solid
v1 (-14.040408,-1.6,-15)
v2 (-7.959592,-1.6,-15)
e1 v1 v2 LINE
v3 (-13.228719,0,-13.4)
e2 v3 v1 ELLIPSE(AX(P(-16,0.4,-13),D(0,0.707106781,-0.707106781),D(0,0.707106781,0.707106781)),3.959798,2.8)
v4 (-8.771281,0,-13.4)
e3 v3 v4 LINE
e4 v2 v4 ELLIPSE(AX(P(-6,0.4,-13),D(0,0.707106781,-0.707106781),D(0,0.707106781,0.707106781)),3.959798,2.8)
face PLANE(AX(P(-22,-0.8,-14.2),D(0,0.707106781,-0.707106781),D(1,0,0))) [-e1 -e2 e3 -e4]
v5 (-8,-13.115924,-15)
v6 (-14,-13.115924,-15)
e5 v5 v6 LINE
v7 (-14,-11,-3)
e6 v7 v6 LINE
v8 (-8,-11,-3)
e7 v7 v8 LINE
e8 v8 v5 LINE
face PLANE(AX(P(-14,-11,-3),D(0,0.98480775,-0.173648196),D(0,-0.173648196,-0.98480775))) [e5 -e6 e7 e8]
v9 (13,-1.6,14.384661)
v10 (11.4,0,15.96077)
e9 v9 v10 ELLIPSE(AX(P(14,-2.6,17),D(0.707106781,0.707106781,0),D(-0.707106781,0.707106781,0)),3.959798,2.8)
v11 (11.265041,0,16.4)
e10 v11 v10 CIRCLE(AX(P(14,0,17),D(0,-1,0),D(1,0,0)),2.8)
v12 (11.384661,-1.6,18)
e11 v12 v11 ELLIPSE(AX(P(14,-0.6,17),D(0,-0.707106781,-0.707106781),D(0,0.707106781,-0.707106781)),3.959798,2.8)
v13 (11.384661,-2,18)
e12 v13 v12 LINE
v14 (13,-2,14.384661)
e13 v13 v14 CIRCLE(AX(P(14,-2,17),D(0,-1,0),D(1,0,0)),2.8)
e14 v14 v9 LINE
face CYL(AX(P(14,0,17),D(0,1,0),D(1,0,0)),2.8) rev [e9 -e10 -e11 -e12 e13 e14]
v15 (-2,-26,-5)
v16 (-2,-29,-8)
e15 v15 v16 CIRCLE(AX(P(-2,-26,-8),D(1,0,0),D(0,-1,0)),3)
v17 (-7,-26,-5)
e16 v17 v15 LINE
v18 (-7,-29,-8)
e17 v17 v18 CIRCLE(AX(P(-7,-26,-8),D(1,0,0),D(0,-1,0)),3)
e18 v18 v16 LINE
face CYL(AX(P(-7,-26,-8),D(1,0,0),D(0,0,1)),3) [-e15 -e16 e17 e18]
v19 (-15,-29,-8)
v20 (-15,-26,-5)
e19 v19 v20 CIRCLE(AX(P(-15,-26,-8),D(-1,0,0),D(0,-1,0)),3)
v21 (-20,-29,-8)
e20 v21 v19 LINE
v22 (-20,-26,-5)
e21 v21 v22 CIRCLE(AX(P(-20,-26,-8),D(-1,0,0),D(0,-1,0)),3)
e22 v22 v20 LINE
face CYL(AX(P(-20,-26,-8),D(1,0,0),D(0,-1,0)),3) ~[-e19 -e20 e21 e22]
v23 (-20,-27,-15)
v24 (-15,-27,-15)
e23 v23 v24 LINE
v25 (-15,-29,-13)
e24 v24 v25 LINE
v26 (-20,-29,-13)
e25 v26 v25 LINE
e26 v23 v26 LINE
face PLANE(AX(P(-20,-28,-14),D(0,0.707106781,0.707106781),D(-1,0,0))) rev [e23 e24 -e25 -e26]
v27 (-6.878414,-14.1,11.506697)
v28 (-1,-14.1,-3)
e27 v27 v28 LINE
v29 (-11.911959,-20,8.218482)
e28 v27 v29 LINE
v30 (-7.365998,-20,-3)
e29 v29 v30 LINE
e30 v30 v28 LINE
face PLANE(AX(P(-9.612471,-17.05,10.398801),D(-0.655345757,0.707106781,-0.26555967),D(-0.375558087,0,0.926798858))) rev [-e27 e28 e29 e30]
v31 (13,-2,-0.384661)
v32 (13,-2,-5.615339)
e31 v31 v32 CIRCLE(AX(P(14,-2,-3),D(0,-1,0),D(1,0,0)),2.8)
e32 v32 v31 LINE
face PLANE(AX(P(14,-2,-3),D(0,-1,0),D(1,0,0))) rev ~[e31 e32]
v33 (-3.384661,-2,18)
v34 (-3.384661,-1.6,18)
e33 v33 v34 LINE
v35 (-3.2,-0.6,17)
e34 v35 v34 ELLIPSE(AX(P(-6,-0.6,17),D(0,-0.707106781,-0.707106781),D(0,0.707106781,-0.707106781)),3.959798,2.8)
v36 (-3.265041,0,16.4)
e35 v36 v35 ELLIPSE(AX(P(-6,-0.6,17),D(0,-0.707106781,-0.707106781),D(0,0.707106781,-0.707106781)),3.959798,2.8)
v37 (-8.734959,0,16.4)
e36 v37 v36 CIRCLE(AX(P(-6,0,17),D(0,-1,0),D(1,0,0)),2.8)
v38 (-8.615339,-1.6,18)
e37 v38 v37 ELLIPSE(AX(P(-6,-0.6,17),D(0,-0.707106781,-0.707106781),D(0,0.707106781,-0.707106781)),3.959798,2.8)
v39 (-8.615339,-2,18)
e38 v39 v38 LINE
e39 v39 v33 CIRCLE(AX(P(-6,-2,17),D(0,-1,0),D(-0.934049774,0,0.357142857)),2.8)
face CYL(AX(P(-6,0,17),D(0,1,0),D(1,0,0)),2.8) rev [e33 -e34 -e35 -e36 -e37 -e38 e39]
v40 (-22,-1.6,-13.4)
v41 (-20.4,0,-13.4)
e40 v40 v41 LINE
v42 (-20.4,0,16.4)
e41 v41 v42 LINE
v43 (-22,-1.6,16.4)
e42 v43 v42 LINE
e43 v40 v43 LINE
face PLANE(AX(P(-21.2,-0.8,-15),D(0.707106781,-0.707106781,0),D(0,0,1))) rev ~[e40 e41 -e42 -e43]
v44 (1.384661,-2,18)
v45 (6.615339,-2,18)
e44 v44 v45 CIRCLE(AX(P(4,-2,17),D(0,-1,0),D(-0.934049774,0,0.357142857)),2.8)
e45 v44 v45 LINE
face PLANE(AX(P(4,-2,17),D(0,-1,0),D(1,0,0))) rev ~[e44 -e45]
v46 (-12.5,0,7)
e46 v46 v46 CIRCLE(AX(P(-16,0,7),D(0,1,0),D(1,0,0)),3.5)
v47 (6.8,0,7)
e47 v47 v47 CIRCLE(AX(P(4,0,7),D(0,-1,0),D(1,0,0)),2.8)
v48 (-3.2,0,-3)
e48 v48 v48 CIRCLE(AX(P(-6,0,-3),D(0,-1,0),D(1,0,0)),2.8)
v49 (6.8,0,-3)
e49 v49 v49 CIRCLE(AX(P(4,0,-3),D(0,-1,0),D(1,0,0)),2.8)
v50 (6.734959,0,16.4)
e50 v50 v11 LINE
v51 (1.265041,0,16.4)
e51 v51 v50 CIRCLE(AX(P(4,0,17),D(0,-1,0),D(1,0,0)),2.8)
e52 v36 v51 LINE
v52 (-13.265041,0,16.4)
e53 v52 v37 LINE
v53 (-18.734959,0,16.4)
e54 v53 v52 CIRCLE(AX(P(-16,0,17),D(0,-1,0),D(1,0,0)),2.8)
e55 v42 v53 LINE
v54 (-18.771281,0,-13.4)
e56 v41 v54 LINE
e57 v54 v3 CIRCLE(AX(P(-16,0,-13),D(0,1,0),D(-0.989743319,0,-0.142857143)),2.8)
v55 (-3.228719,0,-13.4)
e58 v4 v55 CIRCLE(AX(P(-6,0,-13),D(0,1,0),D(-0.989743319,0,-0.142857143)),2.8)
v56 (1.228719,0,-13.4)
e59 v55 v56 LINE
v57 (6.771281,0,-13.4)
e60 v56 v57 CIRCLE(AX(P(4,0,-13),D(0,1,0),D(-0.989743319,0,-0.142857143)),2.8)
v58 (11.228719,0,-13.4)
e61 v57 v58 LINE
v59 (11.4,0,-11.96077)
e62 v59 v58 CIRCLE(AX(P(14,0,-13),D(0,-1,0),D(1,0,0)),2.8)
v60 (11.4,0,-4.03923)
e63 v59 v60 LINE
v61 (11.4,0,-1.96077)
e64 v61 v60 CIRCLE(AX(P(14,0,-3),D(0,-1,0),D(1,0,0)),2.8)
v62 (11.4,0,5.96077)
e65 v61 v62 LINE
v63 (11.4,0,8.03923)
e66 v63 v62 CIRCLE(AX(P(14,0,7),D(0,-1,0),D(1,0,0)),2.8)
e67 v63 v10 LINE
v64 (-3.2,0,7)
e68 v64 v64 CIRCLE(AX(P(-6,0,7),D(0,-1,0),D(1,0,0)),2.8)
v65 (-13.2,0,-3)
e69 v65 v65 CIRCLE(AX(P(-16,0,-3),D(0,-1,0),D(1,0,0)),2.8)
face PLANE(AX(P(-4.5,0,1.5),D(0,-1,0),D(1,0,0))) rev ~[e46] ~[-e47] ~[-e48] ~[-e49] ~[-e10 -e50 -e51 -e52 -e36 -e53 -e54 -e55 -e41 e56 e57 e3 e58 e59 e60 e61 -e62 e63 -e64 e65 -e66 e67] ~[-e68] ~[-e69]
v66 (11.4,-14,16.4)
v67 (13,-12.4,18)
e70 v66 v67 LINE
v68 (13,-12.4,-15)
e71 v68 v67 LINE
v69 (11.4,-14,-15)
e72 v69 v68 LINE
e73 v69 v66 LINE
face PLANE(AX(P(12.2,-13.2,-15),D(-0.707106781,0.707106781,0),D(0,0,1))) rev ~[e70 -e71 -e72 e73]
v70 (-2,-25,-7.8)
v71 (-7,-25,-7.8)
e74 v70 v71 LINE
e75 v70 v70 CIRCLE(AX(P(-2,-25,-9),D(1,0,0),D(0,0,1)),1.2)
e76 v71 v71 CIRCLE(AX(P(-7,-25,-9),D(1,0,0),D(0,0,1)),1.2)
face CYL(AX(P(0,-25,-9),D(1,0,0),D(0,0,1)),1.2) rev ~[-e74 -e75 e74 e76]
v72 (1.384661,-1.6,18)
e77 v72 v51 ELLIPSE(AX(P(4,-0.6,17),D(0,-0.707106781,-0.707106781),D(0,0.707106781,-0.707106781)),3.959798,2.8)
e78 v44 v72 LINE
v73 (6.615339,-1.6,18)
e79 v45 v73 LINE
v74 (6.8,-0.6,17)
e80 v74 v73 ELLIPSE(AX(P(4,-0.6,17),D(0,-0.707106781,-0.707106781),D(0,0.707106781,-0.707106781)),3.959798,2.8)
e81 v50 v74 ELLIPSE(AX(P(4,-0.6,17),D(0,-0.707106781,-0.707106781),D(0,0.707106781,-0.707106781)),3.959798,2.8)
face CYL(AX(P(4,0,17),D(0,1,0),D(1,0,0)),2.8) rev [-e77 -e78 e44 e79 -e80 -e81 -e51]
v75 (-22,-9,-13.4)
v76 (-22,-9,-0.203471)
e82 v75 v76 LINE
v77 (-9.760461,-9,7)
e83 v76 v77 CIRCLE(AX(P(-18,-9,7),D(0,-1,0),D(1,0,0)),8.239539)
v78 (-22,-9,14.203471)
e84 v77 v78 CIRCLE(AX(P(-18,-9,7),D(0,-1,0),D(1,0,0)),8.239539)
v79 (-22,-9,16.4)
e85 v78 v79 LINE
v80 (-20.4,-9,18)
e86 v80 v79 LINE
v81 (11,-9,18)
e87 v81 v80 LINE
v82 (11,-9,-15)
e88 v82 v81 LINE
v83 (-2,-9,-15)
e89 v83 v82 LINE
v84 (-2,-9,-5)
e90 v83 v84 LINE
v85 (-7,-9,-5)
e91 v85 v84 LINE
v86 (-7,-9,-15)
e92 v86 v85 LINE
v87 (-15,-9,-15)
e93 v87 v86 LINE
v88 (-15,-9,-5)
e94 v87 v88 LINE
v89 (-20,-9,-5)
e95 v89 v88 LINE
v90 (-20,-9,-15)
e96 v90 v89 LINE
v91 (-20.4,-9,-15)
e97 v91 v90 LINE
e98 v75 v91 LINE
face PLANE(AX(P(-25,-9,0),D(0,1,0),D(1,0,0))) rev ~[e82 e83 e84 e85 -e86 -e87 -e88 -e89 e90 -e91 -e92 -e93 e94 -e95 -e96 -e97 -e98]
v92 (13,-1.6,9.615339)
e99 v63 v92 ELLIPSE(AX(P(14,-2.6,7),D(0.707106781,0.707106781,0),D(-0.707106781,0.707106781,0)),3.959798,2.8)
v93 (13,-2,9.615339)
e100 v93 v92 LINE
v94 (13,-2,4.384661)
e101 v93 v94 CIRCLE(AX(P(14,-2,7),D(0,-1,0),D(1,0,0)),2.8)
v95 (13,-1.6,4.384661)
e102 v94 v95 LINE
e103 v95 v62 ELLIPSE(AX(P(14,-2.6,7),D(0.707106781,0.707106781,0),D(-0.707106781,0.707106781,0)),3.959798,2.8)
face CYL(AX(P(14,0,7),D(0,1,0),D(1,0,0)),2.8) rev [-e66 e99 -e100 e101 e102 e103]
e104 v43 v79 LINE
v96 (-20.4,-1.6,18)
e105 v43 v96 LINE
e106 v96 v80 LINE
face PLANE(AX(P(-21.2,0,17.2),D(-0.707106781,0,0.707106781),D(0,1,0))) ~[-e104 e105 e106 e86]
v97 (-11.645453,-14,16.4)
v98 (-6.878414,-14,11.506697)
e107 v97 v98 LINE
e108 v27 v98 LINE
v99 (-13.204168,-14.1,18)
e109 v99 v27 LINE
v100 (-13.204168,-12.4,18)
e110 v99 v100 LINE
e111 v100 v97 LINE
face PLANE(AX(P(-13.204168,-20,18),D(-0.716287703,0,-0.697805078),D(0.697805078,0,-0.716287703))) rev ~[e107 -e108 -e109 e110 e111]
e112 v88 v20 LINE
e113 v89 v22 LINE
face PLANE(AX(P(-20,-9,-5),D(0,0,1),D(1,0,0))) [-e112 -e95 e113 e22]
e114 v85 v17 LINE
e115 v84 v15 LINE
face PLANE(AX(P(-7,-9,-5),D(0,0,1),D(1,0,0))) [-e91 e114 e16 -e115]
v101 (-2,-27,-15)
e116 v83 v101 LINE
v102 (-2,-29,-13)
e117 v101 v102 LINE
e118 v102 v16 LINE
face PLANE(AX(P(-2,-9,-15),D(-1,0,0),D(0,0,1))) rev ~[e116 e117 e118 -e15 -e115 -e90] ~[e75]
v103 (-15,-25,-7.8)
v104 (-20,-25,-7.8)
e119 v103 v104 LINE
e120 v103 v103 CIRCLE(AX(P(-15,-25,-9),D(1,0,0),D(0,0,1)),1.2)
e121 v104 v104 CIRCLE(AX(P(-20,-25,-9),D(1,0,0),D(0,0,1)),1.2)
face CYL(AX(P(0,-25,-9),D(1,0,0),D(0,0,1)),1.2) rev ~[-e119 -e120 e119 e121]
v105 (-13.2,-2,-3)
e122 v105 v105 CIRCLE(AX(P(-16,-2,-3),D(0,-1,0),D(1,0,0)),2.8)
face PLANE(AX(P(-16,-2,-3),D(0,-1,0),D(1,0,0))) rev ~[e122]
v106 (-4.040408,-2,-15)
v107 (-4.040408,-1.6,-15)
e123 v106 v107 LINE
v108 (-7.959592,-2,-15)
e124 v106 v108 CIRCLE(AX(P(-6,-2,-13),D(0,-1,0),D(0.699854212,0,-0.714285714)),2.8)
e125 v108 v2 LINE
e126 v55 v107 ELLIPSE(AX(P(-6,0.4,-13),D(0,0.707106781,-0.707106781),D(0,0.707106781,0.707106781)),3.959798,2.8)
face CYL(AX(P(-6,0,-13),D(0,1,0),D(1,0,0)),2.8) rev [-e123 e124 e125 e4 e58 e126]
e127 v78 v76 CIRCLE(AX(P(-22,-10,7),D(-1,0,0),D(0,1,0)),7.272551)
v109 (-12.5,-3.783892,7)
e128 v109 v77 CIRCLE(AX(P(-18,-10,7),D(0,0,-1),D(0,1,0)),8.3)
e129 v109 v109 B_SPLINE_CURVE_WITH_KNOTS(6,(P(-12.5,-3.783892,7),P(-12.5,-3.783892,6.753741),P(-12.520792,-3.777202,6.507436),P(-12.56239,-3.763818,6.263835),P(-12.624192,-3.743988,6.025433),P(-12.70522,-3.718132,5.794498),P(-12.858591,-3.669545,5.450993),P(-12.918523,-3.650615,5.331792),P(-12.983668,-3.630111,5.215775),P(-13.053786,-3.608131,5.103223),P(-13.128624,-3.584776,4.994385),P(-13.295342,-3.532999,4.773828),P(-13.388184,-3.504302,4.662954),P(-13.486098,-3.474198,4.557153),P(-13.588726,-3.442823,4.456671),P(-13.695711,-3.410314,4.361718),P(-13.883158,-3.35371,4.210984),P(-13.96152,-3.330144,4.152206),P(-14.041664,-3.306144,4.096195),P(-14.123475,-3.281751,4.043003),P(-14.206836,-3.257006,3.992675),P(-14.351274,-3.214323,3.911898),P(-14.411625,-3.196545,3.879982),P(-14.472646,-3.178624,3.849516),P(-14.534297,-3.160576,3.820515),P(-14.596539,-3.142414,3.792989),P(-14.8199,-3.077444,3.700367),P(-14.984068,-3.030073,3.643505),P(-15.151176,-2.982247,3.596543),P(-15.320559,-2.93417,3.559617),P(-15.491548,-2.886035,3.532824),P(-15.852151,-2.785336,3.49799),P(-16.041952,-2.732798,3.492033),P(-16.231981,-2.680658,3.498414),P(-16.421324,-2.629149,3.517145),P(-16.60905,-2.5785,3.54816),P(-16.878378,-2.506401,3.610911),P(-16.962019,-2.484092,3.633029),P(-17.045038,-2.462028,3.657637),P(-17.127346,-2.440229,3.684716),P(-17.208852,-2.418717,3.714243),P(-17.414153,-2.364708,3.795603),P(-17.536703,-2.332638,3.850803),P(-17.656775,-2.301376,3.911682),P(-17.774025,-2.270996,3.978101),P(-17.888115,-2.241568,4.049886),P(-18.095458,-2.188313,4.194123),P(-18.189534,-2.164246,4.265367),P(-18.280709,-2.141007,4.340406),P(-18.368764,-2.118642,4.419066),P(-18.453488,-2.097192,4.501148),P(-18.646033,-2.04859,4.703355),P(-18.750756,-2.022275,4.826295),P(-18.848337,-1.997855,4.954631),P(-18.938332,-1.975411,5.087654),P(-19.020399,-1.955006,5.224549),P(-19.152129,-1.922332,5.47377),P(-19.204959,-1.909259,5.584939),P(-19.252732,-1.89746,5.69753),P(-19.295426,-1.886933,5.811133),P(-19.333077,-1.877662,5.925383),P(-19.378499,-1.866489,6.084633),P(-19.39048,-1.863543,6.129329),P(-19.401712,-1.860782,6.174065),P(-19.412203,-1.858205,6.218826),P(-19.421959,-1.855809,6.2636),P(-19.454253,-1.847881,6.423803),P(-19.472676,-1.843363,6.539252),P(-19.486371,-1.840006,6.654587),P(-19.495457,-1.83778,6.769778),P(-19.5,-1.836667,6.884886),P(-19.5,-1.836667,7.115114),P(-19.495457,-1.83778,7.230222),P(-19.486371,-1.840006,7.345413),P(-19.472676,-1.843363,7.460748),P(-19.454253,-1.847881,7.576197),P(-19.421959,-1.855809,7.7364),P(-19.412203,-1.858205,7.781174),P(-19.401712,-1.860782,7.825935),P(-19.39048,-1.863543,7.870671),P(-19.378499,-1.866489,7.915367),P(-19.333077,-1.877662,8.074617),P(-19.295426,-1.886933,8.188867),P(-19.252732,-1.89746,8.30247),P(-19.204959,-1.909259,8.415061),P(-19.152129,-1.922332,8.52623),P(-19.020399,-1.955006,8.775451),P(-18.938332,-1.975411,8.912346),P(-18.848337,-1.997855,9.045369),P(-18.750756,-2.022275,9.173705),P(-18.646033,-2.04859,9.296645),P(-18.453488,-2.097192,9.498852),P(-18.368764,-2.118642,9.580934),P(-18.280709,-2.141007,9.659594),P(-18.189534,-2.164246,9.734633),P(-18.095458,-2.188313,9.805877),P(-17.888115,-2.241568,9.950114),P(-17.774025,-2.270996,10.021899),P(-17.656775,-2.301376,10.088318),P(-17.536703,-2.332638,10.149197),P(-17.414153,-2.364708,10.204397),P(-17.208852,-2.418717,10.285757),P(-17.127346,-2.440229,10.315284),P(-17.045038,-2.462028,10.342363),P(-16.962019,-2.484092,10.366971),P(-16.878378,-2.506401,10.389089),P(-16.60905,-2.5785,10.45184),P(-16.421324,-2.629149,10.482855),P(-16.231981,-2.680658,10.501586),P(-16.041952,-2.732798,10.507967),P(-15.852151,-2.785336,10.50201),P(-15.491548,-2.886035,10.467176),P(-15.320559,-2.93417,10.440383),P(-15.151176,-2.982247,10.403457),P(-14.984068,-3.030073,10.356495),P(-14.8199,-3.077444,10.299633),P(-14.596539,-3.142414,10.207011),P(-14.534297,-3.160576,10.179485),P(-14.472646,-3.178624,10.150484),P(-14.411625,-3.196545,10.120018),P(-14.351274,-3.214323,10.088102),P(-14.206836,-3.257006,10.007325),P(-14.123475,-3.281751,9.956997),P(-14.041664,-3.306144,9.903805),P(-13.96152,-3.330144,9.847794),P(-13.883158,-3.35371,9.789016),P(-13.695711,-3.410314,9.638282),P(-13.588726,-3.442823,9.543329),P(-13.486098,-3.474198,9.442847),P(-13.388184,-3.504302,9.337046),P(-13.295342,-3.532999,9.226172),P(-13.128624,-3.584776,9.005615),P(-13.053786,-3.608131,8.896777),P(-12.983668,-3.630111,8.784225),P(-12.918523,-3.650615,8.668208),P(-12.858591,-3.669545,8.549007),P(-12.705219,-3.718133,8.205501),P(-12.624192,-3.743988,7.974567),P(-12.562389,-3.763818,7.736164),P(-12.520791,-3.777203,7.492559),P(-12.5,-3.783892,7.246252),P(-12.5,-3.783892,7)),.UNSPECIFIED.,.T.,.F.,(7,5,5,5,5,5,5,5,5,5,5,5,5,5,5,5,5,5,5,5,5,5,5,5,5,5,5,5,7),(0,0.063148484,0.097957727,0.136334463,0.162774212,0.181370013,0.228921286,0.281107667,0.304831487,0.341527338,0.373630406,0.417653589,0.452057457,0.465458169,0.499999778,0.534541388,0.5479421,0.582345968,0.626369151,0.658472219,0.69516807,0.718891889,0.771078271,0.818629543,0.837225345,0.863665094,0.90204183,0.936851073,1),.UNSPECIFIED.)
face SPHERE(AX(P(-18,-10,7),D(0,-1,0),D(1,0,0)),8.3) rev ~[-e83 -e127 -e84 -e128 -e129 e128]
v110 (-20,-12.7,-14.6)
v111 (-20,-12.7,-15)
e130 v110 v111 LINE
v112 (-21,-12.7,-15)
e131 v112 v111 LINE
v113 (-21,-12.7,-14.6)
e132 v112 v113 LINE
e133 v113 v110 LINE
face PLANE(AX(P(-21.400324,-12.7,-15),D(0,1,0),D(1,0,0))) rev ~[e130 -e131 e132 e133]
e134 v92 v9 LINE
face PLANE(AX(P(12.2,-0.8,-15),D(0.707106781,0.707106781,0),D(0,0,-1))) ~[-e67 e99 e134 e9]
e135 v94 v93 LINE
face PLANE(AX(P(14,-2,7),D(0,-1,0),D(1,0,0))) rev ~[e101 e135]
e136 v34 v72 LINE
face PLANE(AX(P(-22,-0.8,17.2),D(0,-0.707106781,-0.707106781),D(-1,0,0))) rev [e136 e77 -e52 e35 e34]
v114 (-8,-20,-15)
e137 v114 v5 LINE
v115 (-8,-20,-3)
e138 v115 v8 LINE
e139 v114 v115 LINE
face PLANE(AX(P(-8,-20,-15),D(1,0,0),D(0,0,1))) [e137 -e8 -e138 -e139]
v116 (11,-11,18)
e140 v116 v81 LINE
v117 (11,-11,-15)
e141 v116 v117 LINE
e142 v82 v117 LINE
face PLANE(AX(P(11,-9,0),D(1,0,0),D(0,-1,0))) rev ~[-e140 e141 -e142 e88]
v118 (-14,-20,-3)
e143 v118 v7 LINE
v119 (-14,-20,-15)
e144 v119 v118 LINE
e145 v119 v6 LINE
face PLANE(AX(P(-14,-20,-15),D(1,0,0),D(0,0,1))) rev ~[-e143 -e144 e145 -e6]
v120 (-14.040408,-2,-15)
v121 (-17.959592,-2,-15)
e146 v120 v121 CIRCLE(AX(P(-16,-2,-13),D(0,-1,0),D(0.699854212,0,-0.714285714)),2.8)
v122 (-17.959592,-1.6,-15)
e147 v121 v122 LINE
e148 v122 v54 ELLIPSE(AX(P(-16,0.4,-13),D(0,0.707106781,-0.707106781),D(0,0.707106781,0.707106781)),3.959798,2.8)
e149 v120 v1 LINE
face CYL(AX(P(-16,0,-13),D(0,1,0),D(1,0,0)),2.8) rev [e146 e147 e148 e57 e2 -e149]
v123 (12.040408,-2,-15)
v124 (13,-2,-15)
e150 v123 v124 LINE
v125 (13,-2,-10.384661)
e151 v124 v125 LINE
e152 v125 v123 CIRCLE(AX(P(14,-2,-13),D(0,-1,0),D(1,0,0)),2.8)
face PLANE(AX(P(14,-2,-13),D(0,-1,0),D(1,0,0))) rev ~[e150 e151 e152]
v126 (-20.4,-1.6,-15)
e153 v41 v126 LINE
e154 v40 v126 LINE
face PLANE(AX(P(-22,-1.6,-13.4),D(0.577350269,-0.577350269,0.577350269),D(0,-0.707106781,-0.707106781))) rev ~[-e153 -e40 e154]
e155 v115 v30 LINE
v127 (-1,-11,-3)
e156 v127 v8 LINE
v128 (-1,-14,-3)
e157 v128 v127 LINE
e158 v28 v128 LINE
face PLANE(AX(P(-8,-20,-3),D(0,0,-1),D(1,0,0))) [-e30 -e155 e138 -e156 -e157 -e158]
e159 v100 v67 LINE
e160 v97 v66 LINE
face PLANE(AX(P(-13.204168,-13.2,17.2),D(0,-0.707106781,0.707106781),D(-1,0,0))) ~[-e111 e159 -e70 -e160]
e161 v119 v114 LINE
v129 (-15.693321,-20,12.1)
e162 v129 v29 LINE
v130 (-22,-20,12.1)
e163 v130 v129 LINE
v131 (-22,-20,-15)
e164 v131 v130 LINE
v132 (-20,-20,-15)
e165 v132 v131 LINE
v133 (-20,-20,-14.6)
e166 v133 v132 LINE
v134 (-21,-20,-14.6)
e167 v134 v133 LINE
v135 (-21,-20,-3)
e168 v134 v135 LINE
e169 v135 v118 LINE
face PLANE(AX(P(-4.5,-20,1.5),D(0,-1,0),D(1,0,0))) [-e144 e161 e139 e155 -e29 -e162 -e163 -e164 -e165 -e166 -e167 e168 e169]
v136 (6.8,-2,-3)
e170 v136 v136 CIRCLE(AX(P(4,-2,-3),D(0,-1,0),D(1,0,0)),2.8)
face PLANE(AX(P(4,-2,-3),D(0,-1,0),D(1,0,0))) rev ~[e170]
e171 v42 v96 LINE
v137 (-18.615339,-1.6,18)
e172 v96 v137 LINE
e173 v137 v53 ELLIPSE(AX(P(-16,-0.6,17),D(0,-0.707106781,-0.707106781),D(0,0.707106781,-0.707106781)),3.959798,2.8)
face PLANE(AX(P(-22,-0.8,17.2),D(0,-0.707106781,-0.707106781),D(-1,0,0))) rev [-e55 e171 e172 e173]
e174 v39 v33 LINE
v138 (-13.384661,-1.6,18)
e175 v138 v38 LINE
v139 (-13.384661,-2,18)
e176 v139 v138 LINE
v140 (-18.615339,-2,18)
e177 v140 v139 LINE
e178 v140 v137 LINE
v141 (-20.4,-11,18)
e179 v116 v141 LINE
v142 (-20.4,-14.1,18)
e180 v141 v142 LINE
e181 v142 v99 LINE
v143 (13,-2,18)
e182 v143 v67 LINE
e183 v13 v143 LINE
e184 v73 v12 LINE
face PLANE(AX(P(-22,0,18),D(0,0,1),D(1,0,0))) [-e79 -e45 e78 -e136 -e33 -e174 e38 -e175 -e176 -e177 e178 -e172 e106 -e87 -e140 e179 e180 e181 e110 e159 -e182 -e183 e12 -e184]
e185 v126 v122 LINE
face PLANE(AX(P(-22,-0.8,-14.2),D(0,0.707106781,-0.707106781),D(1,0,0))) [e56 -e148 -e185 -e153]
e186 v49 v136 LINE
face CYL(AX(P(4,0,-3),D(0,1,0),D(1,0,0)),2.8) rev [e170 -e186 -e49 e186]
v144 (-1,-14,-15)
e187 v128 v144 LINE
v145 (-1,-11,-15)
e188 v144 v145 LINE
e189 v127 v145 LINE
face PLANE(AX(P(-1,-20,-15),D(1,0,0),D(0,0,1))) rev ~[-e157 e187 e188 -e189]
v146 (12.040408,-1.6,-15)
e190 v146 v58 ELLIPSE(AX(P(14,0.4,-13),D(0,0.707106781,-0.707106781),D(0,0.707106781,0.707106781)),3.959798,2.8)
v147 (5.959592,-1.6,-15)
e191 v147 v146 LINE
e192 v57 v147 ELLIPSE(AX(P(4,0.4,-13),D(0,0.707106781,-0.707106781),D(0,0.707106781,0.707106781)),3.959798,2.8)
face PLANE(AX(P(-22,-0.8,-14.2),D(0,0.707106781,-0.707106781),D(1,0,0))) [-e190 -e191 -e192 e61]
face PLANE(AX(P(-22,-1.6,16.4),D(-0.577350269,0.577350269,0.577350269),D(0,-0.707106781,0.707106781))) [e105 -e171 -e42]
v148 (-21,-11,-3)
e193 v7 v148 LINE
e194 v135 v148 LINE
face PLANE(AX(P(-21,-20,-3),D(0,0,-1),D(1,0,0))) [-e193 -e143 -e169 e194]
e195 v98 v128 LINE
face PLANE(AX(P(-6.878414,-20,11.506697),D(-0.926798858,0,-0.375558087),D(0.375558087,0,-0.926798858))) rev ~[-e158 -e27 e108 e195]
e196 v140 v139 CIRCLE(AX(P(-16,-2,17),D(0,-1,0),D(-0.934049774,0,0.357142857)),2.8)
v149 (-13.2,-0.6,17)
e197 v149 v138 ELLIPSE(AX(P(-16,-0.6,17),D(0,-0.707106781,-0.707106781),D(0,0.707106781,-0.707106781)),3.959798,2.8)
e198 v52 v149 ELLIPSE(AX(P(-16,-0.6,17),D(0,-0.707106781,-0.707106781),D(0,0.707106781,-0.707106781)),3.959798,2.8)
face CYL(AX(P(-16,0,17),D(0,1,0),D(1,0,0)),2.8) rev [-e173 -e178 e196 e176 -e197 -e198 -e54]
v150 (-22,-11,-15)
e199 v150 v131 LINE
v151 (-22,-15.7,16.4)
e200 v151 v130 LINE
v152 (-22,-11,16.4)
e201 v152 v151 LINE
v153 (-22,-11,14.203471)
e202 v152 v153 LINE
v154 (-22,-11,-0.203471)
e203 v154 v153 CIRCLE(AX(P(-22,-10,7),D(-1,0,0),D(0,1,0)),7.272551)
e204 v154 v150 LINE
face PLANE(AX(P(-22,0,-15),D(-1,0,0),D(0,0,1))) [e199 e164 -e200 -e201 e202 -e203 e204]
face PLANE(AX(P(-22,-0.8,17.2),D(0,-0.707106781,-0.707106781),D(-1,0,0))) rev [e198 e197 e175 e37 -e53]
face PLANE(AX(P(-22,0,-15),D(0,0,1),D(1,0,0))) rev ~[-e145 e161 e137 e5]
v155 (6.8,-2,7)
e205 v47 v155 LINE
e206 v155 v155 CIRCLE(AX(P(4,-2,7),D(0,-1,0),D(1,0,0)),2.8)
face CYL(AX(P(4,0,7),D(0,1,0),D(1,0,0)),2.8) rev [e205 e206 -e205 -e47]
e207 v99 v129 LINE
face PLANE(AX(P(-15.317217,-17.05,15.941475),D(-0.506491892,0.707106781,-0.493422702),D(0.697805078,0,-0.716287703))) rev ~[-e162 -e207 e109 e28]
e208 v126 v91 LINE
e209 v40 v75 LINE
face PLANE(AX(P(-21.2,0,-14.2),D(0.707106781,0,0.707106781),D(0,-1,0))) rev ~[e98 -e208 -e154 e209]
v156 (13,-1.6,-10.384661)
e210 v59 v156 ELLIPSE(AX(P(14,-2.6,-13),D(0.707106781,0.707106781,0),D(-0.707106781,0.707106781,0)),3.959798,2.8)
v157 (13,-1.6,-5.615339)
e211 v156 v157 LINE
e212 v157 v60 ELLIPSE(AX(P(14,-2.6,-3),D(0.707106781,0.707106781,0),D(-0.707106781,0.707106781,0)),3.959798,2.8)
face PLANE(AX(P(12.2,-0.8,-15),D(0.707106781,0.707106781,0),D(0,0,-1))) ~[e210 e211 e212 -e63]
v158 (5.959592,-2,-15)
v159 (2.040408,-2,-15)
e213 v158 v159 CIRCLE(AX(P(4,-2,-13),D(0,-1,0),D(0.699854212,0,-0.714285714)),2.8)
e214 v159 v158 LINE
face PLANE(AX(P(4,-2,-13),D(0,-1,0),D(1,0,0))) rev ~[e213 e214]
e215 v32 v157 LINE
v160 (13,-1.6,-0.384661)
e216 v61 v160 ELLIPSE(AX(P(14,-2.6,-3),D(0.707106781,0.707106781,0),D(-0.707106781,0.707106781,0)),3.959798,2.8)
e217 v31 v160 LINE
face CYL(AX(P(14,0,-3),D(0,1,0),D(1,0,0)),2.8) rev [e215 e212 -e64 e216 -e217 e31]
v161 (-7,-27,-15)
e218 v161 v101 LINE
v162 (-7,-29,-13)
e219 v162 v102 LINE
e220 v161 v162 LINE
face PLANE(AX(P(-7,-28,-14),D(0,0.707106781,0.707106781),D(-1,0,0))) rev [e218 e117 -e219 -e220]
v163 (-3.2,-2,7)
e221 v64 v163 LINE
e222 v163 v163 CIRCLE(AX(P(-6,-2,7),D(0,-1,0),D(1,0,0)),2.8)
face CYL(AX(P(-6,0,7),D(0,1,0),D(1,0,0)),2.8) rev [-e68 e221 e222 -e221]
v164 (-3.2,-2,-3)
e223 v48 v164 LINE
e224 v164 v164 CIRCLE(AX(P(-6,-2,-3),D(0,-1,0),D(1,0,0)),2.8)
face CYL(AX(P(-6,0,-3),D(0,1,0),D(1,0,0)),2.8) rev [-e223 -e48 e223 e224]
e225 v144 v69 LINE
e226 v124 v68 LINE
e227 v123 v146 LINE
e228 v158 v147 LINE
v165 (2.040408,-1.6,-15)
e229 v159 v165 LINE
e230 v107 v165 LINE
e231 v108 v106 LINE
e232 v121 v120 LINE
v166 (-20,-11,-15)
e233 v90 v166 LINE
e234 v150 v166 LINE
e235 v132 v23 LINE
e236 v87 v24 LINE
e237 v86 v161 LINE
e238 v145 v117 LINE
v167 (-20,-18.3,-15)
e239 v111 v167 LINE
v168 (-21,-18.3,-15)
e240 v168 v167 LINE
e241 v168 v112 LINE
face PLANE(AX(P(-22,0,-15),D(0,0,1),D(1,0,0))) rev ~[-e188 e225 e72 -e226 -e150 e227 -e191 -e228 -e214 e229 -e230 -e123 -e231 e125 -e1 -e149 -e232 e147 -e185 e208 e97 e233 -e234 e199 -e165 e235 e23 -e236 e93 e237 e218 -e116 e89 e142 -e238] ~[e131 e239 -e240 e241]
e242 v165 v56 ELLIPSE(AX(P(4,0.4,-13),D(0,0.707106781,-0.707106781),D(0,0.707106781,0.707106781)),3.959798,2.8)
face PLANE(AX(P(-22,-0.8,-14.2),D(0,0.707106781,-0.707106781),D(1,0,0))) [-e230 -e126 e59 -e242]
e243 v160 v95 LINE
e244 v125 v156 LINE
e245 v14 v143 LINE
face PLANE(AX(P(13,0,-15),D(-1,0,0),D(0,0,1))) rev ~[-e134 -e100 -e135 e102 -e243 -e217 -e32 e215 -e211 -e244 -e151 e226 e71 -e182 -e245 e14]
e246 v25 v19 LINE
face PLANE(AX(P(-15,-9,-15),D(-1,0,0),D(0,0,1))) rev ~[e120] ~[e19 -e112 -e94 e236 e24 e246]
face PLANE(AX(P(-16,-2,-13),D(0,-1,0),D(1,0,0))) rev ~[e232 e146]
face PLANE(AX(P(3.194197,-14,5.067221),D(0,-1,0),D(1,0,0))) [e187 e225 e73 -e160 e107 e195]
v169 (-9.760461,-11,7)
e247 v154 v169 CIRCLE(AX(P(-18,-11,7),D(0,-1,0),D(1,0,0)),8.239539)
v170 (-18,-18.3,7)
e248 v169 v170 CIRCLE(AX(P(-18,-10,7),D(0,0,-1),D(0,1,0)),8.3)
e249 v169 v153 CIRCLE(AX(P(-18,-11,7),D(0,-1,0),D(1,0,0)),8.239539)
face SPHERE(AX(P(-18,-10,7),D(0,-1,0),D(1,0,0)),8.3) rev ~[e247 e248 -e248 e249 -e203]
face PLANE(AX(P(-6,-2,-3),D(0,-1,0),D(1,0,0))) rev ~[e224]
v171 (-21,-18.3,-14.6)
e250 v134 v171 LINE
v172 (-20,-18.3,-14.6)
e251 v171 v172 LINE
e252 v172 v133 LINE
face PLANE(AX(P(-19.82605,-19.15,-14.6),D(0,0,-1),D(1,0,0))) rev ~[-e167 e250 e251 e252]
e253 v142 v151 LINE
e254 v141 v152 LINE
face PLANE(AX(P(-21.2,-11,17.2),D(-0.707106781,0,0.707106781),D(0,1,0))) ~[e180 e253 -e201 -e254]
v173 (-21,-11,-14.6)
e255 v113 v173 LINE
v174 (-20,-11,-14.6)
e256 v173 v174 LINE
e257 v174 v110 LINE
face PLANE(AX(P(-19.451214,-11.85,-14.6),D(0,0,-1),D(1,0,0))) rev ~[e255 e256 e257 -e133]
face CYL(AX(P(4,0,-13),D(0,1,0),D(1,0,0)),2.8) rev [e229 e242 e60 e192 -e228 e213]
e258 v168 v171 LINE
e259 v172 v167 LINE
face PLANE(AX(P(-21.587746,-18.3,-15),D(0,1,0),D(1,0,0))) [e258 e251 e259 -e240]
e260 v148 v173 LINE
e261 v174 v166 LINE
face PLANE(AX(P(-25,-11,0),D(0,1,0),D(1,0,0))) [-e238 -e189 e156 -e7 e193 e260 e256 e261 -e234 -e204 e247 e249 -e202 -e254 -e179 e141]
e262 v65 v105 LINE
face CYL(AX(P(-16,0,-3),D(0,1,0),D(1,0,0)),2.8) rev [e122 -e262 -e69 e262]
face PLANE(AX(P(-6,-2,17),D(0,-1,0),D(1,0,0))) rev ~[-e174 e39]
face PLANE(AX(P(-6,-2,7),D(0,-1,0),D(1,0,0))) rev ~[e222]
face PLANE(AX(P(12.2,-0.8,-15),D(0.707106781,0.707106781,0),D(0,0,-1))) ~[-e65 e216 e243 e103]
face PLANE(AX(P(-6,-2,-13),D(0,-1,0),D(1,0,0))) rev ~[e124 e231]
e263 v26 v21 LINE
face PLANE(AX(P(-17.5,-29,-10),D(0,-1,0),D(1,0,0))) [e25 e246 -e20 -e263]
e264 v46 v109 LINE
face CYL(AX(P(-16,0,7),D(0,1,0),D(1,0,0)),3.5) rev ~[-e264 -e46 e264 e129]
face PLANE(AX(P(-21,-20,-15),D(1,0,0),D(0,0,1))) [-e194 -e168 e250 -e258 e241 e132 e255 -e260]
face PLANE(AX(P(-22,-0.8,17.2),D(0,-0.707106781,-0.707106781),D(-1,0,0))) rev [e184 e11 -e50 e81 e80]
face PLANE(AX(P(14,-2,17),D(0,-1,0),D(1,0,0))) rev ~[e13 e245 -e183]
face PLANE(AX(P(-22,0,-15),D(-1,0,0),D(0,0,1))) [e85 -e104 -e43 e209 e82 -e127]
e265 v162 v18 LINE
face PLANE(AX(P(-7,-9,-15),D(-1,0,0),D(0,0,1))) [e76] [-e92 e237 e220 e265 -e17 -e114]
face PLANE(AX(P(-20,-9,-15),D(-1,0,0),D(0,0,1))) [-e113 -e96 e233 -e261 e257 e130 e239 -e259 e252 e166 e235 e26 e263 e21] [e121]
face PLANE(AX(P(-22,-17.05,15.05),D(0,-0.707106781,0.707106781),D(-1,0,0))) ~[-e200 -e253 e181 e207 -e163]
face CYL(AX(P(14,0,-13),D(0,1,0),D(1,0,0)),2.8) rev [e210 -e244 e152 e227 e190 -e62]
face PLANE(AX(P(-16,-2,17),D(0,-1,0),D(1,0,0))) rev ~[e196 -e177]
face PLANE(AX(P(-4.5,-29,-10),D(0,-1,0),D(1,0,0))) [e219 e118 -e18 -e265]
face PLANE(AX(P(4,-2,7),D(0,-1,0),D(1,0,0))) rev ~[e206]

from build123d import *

# Parameters (mm, degrees)
SKETCH_W                 = 35
SKETCH_H                 = 33
PAD_DEPTH                = 20
SKETCH001_W              = 7
SKETCH001_H              = 12
POCKET_DEPTH             = 10
SKETCH004_W              = 36
SKETCH004_H              = 2
POCKET002_DEPTH          = 18.001
POCKET002_DEPTH_BACK     = 15.001
SKETCH002_W              = 5
SKETCH002_H              = 10
PAD001_DEPTH             = 20
SKETCH003_R              = 1.2
POCKET001_DEPTH          = 22.001
POCKET003_DEPTH          = 6
CHAMFER_SIZE             = 5.9
CHAMFER001_SIZE          = 1.6
CHAMFER002_SIZE          = 2
FILLET_R                 = 3
SKETCH010_R              = 2.8
POCKET006_DEPTH          = 2
LINEARPATTERN_COUNT      = 4
LINEARPATTERN_PITCH      = 10
SKETCH012_R              = 3.5
POCKET007_DEPTH          = 8
SKETCH013_W              = 3.523392
SKETCH013_H              = 1.7
SKETCH013_W_2            = 3.89822
PAD003_DEPTH             = 0.4
POCKET008_DEPTH          = 6
CLONE001_PLACEMENT_ANGLE = 90


with BuildPart() as sphere:
    # Sphere → Sphere (revolve)
    with BuildSketch(Plane(origin=(-18, 7, 10), x_dir=(1, 0, 0), z_dir=(0, -1, 0))):
        with BuildLine():
            ThreePointArc((0, -8.3), (8.3, 0), (0, 8.3))
            Line((0, 8.3), (0, -8.3))
        make_face()
    revolve(axis=Axis((-18, 7, 10), (0, 0, 1)))


with BuildPart() as out_socket:
    # Sketch → Pad (new body)
    with BuildSketch(Plane.XY):
        with Locations((-4.5, 1.5)):
            Rectangle(SKETCH_W, SKETCH_H)
    extrude(amount=PAD_DEPTH)

    # Sketch001 (on Face6 of Pad) → Pocket (cut)
    with BuildSketch(Plane.XY.offset(20)):
        with Locations((-17.5, -9)):
            Rectangle(SKETCH001_W, SKETCH001_H)
        with Locations((-4.5, -9)):
            Rectangle(SKETCH001_W, SKETCH001_H)
    extrude(amount=-POCKET_DEPTH, mode=Mode.SUBTRACT)

    # Sketch004 → Pocket002 (cut, two sides)
    with BuildSketch(Plane.XZ) as pocket002_sk:
        with Locations((-7, 10)):
            Rectangle(SKETCH004_W, SKETCH004_H)
    extrude(amount=-POCKET002_DEPTH, mode=Mode.SUBTRACT)
    extrude(pocket002_sk.sketch, amount=POCKET002_DEPTH_BACK, mode=Mode.SUBTRACT)

    # Sketch002 (on Face8 of Pocket002) → Pad001 (join)
    with BuildSketch(Plane.XY.offset(9)):
        with Locations((-17.5, -10)):
            Rectangle(SKETCH002_W, SKETCH002_H)
        with Locations((-4.5, -10)):
            Rectangle(SKETCH002_W, SKETCH002_H)
    extrude(amount=PAD001_DEPTH)

    # Sketch003 → Pocket001 (cut, through all)
    with BuildSketch(Plane.YZ):
        with Locations((-9, 25)):
            Circle(SKETCH003_R)
    extrude(amount=-POCKET001_DEPTH, mode=Mode.SUBTRACT)

    # Sketch005 (on Face4 of Pocket001) → Pocket003 (cut)
    with BuildSketch(Plane.XY.offset(20)):
        Polygon((-6.878414, 11.506697), (-1, -3), (-1, -16.521692), (16.145611, -16.521692), (16.145611, 20.333527), (-18.556482, 20.333527), (-13.204168, 18), align=None)
    extrude(amount=-POCKET003_DEPTH, mode=Mode.SUBTRACT)

    # Chamfer
    chamfer_edges = [out_socket.edges().sort_by_distance(p)[0] for p in [
        (-17.602084, 18, 20),
        (-10.041291, 14.753349, 20),
        (-3.939207, 4.253349, 20),
    ]]
    chamfer(chamfer_edges, length=CHAMFER_SIZE)

    # Chamfer001
    chamfer001_edges = [out_socket.edges().sort_by_distance(p)[0] for p in [
        (-4.5, 18, 0),
        (13, 1.5, 0),
        (-4.5, -15, 0),
        (-22, 1.5, 0),
        (-22, 18, 4.5),
        (-22, -15, 4.5),
        (-22, 18, 12.55),
        (13, 1.5, 14),
        (-0.102084, 18, 14),
    ]]
    chamfer(chamfer001_edges, length=CHAMFER001_SIZE)

    # Chamfer002
    chamfer002_edges = [out_socket.edges().sort_by_distance(p)[0] for p in [
        (-17.5, -15, 29),
        (-4.5, -15, 29),
    ]]
    chamfer(chamfer002_edges, length=CHAMFER002_SIZE)

    # Fillet
    fillet_edges = [out_socket.edges().sort_by_distance(p)[0] for p in [
        (-4.5, -5, 29),
        (-17.5, -5, 29),
    ]]
    fillet(fillet_edges, radius=FILLET_R)

    # Sketch010 → Pocket006 (cut)
    with BuildSketch(Plane.XY):
        with Locations((14, -13)):
            Circle(SKETCH010_R)
        with Locations((4, -13)):
            Circle(SKETCH010_R)
        with Locations((-6, -13)):
            Circle(SKETCH010_R)
        with Locations((-16, -13)):
            Circle(SKETCH010_R)
    pocket006 = extrude(amount=POCKET006_DEPTH, mode=Mode.SUBTRACT)

    # LinearPattern: Pocket006 ×4
    with Locations(*[(0, i * LINEARPATTERN_PITCH, 0) for i in range(1, LINEARPATTERN_COUNT)]):
        add(pocket006, mode=Mode.SUBTRACT)

    # Sketch012 (on Face5 of Pad) → Pocket007 (cut)
    with BuildSketch(Plane(origin=(0, 0, 0), x_dir=(1, 0, 0), z_dir=(0, 0, -1))):
        with Locations((-16, -7)):
            Circle(SKETCH012_R)
    extrude(amount=-POCKET007_DEPTH, mode=Mode.SUBTRACT)

    # Sketch013 (on Face3 of Pad) → Pad003 (join)
    with BuildSketch(Plane.XZ.offset(15)):
        with Locations((-19.82605, 19.15)):
            Rectangle(SKETCH013_W, SKETCH013_H)
        with Locations((-19.451214, 11.85)):
            Rectangle(SKETCH013_W_2, SKETCH013_H)
    extrude(amount=-PAD003_DEPTH)

    # Sketch014 (on Face9 of Pocket) → Pocket008 (cut)
    with BuildSketch(Plane(origin=(-14, 0, 0), x_dir=(0, -1, 0), z_dir=(-1, 0, 0))):
        Polygon((3, 11), (23, 14.52654), (23, 11), align=None)
    extrude(amount=-POCKET008_DEPTH, mode=Mode.SUBTRACT)

    # Cut: cut Sphere
    add(sphere.part, mode=Mode.SUBTRACT)


with BuildPart() as out_socket_1:
    # Clone001 placement: moved
    add(out_socket.part.rotate(Axis((0, 0, 0), (1, 0, 0)), CLONE001_PLACEMENT_ANGLE))


solid = out_socket_1.part
